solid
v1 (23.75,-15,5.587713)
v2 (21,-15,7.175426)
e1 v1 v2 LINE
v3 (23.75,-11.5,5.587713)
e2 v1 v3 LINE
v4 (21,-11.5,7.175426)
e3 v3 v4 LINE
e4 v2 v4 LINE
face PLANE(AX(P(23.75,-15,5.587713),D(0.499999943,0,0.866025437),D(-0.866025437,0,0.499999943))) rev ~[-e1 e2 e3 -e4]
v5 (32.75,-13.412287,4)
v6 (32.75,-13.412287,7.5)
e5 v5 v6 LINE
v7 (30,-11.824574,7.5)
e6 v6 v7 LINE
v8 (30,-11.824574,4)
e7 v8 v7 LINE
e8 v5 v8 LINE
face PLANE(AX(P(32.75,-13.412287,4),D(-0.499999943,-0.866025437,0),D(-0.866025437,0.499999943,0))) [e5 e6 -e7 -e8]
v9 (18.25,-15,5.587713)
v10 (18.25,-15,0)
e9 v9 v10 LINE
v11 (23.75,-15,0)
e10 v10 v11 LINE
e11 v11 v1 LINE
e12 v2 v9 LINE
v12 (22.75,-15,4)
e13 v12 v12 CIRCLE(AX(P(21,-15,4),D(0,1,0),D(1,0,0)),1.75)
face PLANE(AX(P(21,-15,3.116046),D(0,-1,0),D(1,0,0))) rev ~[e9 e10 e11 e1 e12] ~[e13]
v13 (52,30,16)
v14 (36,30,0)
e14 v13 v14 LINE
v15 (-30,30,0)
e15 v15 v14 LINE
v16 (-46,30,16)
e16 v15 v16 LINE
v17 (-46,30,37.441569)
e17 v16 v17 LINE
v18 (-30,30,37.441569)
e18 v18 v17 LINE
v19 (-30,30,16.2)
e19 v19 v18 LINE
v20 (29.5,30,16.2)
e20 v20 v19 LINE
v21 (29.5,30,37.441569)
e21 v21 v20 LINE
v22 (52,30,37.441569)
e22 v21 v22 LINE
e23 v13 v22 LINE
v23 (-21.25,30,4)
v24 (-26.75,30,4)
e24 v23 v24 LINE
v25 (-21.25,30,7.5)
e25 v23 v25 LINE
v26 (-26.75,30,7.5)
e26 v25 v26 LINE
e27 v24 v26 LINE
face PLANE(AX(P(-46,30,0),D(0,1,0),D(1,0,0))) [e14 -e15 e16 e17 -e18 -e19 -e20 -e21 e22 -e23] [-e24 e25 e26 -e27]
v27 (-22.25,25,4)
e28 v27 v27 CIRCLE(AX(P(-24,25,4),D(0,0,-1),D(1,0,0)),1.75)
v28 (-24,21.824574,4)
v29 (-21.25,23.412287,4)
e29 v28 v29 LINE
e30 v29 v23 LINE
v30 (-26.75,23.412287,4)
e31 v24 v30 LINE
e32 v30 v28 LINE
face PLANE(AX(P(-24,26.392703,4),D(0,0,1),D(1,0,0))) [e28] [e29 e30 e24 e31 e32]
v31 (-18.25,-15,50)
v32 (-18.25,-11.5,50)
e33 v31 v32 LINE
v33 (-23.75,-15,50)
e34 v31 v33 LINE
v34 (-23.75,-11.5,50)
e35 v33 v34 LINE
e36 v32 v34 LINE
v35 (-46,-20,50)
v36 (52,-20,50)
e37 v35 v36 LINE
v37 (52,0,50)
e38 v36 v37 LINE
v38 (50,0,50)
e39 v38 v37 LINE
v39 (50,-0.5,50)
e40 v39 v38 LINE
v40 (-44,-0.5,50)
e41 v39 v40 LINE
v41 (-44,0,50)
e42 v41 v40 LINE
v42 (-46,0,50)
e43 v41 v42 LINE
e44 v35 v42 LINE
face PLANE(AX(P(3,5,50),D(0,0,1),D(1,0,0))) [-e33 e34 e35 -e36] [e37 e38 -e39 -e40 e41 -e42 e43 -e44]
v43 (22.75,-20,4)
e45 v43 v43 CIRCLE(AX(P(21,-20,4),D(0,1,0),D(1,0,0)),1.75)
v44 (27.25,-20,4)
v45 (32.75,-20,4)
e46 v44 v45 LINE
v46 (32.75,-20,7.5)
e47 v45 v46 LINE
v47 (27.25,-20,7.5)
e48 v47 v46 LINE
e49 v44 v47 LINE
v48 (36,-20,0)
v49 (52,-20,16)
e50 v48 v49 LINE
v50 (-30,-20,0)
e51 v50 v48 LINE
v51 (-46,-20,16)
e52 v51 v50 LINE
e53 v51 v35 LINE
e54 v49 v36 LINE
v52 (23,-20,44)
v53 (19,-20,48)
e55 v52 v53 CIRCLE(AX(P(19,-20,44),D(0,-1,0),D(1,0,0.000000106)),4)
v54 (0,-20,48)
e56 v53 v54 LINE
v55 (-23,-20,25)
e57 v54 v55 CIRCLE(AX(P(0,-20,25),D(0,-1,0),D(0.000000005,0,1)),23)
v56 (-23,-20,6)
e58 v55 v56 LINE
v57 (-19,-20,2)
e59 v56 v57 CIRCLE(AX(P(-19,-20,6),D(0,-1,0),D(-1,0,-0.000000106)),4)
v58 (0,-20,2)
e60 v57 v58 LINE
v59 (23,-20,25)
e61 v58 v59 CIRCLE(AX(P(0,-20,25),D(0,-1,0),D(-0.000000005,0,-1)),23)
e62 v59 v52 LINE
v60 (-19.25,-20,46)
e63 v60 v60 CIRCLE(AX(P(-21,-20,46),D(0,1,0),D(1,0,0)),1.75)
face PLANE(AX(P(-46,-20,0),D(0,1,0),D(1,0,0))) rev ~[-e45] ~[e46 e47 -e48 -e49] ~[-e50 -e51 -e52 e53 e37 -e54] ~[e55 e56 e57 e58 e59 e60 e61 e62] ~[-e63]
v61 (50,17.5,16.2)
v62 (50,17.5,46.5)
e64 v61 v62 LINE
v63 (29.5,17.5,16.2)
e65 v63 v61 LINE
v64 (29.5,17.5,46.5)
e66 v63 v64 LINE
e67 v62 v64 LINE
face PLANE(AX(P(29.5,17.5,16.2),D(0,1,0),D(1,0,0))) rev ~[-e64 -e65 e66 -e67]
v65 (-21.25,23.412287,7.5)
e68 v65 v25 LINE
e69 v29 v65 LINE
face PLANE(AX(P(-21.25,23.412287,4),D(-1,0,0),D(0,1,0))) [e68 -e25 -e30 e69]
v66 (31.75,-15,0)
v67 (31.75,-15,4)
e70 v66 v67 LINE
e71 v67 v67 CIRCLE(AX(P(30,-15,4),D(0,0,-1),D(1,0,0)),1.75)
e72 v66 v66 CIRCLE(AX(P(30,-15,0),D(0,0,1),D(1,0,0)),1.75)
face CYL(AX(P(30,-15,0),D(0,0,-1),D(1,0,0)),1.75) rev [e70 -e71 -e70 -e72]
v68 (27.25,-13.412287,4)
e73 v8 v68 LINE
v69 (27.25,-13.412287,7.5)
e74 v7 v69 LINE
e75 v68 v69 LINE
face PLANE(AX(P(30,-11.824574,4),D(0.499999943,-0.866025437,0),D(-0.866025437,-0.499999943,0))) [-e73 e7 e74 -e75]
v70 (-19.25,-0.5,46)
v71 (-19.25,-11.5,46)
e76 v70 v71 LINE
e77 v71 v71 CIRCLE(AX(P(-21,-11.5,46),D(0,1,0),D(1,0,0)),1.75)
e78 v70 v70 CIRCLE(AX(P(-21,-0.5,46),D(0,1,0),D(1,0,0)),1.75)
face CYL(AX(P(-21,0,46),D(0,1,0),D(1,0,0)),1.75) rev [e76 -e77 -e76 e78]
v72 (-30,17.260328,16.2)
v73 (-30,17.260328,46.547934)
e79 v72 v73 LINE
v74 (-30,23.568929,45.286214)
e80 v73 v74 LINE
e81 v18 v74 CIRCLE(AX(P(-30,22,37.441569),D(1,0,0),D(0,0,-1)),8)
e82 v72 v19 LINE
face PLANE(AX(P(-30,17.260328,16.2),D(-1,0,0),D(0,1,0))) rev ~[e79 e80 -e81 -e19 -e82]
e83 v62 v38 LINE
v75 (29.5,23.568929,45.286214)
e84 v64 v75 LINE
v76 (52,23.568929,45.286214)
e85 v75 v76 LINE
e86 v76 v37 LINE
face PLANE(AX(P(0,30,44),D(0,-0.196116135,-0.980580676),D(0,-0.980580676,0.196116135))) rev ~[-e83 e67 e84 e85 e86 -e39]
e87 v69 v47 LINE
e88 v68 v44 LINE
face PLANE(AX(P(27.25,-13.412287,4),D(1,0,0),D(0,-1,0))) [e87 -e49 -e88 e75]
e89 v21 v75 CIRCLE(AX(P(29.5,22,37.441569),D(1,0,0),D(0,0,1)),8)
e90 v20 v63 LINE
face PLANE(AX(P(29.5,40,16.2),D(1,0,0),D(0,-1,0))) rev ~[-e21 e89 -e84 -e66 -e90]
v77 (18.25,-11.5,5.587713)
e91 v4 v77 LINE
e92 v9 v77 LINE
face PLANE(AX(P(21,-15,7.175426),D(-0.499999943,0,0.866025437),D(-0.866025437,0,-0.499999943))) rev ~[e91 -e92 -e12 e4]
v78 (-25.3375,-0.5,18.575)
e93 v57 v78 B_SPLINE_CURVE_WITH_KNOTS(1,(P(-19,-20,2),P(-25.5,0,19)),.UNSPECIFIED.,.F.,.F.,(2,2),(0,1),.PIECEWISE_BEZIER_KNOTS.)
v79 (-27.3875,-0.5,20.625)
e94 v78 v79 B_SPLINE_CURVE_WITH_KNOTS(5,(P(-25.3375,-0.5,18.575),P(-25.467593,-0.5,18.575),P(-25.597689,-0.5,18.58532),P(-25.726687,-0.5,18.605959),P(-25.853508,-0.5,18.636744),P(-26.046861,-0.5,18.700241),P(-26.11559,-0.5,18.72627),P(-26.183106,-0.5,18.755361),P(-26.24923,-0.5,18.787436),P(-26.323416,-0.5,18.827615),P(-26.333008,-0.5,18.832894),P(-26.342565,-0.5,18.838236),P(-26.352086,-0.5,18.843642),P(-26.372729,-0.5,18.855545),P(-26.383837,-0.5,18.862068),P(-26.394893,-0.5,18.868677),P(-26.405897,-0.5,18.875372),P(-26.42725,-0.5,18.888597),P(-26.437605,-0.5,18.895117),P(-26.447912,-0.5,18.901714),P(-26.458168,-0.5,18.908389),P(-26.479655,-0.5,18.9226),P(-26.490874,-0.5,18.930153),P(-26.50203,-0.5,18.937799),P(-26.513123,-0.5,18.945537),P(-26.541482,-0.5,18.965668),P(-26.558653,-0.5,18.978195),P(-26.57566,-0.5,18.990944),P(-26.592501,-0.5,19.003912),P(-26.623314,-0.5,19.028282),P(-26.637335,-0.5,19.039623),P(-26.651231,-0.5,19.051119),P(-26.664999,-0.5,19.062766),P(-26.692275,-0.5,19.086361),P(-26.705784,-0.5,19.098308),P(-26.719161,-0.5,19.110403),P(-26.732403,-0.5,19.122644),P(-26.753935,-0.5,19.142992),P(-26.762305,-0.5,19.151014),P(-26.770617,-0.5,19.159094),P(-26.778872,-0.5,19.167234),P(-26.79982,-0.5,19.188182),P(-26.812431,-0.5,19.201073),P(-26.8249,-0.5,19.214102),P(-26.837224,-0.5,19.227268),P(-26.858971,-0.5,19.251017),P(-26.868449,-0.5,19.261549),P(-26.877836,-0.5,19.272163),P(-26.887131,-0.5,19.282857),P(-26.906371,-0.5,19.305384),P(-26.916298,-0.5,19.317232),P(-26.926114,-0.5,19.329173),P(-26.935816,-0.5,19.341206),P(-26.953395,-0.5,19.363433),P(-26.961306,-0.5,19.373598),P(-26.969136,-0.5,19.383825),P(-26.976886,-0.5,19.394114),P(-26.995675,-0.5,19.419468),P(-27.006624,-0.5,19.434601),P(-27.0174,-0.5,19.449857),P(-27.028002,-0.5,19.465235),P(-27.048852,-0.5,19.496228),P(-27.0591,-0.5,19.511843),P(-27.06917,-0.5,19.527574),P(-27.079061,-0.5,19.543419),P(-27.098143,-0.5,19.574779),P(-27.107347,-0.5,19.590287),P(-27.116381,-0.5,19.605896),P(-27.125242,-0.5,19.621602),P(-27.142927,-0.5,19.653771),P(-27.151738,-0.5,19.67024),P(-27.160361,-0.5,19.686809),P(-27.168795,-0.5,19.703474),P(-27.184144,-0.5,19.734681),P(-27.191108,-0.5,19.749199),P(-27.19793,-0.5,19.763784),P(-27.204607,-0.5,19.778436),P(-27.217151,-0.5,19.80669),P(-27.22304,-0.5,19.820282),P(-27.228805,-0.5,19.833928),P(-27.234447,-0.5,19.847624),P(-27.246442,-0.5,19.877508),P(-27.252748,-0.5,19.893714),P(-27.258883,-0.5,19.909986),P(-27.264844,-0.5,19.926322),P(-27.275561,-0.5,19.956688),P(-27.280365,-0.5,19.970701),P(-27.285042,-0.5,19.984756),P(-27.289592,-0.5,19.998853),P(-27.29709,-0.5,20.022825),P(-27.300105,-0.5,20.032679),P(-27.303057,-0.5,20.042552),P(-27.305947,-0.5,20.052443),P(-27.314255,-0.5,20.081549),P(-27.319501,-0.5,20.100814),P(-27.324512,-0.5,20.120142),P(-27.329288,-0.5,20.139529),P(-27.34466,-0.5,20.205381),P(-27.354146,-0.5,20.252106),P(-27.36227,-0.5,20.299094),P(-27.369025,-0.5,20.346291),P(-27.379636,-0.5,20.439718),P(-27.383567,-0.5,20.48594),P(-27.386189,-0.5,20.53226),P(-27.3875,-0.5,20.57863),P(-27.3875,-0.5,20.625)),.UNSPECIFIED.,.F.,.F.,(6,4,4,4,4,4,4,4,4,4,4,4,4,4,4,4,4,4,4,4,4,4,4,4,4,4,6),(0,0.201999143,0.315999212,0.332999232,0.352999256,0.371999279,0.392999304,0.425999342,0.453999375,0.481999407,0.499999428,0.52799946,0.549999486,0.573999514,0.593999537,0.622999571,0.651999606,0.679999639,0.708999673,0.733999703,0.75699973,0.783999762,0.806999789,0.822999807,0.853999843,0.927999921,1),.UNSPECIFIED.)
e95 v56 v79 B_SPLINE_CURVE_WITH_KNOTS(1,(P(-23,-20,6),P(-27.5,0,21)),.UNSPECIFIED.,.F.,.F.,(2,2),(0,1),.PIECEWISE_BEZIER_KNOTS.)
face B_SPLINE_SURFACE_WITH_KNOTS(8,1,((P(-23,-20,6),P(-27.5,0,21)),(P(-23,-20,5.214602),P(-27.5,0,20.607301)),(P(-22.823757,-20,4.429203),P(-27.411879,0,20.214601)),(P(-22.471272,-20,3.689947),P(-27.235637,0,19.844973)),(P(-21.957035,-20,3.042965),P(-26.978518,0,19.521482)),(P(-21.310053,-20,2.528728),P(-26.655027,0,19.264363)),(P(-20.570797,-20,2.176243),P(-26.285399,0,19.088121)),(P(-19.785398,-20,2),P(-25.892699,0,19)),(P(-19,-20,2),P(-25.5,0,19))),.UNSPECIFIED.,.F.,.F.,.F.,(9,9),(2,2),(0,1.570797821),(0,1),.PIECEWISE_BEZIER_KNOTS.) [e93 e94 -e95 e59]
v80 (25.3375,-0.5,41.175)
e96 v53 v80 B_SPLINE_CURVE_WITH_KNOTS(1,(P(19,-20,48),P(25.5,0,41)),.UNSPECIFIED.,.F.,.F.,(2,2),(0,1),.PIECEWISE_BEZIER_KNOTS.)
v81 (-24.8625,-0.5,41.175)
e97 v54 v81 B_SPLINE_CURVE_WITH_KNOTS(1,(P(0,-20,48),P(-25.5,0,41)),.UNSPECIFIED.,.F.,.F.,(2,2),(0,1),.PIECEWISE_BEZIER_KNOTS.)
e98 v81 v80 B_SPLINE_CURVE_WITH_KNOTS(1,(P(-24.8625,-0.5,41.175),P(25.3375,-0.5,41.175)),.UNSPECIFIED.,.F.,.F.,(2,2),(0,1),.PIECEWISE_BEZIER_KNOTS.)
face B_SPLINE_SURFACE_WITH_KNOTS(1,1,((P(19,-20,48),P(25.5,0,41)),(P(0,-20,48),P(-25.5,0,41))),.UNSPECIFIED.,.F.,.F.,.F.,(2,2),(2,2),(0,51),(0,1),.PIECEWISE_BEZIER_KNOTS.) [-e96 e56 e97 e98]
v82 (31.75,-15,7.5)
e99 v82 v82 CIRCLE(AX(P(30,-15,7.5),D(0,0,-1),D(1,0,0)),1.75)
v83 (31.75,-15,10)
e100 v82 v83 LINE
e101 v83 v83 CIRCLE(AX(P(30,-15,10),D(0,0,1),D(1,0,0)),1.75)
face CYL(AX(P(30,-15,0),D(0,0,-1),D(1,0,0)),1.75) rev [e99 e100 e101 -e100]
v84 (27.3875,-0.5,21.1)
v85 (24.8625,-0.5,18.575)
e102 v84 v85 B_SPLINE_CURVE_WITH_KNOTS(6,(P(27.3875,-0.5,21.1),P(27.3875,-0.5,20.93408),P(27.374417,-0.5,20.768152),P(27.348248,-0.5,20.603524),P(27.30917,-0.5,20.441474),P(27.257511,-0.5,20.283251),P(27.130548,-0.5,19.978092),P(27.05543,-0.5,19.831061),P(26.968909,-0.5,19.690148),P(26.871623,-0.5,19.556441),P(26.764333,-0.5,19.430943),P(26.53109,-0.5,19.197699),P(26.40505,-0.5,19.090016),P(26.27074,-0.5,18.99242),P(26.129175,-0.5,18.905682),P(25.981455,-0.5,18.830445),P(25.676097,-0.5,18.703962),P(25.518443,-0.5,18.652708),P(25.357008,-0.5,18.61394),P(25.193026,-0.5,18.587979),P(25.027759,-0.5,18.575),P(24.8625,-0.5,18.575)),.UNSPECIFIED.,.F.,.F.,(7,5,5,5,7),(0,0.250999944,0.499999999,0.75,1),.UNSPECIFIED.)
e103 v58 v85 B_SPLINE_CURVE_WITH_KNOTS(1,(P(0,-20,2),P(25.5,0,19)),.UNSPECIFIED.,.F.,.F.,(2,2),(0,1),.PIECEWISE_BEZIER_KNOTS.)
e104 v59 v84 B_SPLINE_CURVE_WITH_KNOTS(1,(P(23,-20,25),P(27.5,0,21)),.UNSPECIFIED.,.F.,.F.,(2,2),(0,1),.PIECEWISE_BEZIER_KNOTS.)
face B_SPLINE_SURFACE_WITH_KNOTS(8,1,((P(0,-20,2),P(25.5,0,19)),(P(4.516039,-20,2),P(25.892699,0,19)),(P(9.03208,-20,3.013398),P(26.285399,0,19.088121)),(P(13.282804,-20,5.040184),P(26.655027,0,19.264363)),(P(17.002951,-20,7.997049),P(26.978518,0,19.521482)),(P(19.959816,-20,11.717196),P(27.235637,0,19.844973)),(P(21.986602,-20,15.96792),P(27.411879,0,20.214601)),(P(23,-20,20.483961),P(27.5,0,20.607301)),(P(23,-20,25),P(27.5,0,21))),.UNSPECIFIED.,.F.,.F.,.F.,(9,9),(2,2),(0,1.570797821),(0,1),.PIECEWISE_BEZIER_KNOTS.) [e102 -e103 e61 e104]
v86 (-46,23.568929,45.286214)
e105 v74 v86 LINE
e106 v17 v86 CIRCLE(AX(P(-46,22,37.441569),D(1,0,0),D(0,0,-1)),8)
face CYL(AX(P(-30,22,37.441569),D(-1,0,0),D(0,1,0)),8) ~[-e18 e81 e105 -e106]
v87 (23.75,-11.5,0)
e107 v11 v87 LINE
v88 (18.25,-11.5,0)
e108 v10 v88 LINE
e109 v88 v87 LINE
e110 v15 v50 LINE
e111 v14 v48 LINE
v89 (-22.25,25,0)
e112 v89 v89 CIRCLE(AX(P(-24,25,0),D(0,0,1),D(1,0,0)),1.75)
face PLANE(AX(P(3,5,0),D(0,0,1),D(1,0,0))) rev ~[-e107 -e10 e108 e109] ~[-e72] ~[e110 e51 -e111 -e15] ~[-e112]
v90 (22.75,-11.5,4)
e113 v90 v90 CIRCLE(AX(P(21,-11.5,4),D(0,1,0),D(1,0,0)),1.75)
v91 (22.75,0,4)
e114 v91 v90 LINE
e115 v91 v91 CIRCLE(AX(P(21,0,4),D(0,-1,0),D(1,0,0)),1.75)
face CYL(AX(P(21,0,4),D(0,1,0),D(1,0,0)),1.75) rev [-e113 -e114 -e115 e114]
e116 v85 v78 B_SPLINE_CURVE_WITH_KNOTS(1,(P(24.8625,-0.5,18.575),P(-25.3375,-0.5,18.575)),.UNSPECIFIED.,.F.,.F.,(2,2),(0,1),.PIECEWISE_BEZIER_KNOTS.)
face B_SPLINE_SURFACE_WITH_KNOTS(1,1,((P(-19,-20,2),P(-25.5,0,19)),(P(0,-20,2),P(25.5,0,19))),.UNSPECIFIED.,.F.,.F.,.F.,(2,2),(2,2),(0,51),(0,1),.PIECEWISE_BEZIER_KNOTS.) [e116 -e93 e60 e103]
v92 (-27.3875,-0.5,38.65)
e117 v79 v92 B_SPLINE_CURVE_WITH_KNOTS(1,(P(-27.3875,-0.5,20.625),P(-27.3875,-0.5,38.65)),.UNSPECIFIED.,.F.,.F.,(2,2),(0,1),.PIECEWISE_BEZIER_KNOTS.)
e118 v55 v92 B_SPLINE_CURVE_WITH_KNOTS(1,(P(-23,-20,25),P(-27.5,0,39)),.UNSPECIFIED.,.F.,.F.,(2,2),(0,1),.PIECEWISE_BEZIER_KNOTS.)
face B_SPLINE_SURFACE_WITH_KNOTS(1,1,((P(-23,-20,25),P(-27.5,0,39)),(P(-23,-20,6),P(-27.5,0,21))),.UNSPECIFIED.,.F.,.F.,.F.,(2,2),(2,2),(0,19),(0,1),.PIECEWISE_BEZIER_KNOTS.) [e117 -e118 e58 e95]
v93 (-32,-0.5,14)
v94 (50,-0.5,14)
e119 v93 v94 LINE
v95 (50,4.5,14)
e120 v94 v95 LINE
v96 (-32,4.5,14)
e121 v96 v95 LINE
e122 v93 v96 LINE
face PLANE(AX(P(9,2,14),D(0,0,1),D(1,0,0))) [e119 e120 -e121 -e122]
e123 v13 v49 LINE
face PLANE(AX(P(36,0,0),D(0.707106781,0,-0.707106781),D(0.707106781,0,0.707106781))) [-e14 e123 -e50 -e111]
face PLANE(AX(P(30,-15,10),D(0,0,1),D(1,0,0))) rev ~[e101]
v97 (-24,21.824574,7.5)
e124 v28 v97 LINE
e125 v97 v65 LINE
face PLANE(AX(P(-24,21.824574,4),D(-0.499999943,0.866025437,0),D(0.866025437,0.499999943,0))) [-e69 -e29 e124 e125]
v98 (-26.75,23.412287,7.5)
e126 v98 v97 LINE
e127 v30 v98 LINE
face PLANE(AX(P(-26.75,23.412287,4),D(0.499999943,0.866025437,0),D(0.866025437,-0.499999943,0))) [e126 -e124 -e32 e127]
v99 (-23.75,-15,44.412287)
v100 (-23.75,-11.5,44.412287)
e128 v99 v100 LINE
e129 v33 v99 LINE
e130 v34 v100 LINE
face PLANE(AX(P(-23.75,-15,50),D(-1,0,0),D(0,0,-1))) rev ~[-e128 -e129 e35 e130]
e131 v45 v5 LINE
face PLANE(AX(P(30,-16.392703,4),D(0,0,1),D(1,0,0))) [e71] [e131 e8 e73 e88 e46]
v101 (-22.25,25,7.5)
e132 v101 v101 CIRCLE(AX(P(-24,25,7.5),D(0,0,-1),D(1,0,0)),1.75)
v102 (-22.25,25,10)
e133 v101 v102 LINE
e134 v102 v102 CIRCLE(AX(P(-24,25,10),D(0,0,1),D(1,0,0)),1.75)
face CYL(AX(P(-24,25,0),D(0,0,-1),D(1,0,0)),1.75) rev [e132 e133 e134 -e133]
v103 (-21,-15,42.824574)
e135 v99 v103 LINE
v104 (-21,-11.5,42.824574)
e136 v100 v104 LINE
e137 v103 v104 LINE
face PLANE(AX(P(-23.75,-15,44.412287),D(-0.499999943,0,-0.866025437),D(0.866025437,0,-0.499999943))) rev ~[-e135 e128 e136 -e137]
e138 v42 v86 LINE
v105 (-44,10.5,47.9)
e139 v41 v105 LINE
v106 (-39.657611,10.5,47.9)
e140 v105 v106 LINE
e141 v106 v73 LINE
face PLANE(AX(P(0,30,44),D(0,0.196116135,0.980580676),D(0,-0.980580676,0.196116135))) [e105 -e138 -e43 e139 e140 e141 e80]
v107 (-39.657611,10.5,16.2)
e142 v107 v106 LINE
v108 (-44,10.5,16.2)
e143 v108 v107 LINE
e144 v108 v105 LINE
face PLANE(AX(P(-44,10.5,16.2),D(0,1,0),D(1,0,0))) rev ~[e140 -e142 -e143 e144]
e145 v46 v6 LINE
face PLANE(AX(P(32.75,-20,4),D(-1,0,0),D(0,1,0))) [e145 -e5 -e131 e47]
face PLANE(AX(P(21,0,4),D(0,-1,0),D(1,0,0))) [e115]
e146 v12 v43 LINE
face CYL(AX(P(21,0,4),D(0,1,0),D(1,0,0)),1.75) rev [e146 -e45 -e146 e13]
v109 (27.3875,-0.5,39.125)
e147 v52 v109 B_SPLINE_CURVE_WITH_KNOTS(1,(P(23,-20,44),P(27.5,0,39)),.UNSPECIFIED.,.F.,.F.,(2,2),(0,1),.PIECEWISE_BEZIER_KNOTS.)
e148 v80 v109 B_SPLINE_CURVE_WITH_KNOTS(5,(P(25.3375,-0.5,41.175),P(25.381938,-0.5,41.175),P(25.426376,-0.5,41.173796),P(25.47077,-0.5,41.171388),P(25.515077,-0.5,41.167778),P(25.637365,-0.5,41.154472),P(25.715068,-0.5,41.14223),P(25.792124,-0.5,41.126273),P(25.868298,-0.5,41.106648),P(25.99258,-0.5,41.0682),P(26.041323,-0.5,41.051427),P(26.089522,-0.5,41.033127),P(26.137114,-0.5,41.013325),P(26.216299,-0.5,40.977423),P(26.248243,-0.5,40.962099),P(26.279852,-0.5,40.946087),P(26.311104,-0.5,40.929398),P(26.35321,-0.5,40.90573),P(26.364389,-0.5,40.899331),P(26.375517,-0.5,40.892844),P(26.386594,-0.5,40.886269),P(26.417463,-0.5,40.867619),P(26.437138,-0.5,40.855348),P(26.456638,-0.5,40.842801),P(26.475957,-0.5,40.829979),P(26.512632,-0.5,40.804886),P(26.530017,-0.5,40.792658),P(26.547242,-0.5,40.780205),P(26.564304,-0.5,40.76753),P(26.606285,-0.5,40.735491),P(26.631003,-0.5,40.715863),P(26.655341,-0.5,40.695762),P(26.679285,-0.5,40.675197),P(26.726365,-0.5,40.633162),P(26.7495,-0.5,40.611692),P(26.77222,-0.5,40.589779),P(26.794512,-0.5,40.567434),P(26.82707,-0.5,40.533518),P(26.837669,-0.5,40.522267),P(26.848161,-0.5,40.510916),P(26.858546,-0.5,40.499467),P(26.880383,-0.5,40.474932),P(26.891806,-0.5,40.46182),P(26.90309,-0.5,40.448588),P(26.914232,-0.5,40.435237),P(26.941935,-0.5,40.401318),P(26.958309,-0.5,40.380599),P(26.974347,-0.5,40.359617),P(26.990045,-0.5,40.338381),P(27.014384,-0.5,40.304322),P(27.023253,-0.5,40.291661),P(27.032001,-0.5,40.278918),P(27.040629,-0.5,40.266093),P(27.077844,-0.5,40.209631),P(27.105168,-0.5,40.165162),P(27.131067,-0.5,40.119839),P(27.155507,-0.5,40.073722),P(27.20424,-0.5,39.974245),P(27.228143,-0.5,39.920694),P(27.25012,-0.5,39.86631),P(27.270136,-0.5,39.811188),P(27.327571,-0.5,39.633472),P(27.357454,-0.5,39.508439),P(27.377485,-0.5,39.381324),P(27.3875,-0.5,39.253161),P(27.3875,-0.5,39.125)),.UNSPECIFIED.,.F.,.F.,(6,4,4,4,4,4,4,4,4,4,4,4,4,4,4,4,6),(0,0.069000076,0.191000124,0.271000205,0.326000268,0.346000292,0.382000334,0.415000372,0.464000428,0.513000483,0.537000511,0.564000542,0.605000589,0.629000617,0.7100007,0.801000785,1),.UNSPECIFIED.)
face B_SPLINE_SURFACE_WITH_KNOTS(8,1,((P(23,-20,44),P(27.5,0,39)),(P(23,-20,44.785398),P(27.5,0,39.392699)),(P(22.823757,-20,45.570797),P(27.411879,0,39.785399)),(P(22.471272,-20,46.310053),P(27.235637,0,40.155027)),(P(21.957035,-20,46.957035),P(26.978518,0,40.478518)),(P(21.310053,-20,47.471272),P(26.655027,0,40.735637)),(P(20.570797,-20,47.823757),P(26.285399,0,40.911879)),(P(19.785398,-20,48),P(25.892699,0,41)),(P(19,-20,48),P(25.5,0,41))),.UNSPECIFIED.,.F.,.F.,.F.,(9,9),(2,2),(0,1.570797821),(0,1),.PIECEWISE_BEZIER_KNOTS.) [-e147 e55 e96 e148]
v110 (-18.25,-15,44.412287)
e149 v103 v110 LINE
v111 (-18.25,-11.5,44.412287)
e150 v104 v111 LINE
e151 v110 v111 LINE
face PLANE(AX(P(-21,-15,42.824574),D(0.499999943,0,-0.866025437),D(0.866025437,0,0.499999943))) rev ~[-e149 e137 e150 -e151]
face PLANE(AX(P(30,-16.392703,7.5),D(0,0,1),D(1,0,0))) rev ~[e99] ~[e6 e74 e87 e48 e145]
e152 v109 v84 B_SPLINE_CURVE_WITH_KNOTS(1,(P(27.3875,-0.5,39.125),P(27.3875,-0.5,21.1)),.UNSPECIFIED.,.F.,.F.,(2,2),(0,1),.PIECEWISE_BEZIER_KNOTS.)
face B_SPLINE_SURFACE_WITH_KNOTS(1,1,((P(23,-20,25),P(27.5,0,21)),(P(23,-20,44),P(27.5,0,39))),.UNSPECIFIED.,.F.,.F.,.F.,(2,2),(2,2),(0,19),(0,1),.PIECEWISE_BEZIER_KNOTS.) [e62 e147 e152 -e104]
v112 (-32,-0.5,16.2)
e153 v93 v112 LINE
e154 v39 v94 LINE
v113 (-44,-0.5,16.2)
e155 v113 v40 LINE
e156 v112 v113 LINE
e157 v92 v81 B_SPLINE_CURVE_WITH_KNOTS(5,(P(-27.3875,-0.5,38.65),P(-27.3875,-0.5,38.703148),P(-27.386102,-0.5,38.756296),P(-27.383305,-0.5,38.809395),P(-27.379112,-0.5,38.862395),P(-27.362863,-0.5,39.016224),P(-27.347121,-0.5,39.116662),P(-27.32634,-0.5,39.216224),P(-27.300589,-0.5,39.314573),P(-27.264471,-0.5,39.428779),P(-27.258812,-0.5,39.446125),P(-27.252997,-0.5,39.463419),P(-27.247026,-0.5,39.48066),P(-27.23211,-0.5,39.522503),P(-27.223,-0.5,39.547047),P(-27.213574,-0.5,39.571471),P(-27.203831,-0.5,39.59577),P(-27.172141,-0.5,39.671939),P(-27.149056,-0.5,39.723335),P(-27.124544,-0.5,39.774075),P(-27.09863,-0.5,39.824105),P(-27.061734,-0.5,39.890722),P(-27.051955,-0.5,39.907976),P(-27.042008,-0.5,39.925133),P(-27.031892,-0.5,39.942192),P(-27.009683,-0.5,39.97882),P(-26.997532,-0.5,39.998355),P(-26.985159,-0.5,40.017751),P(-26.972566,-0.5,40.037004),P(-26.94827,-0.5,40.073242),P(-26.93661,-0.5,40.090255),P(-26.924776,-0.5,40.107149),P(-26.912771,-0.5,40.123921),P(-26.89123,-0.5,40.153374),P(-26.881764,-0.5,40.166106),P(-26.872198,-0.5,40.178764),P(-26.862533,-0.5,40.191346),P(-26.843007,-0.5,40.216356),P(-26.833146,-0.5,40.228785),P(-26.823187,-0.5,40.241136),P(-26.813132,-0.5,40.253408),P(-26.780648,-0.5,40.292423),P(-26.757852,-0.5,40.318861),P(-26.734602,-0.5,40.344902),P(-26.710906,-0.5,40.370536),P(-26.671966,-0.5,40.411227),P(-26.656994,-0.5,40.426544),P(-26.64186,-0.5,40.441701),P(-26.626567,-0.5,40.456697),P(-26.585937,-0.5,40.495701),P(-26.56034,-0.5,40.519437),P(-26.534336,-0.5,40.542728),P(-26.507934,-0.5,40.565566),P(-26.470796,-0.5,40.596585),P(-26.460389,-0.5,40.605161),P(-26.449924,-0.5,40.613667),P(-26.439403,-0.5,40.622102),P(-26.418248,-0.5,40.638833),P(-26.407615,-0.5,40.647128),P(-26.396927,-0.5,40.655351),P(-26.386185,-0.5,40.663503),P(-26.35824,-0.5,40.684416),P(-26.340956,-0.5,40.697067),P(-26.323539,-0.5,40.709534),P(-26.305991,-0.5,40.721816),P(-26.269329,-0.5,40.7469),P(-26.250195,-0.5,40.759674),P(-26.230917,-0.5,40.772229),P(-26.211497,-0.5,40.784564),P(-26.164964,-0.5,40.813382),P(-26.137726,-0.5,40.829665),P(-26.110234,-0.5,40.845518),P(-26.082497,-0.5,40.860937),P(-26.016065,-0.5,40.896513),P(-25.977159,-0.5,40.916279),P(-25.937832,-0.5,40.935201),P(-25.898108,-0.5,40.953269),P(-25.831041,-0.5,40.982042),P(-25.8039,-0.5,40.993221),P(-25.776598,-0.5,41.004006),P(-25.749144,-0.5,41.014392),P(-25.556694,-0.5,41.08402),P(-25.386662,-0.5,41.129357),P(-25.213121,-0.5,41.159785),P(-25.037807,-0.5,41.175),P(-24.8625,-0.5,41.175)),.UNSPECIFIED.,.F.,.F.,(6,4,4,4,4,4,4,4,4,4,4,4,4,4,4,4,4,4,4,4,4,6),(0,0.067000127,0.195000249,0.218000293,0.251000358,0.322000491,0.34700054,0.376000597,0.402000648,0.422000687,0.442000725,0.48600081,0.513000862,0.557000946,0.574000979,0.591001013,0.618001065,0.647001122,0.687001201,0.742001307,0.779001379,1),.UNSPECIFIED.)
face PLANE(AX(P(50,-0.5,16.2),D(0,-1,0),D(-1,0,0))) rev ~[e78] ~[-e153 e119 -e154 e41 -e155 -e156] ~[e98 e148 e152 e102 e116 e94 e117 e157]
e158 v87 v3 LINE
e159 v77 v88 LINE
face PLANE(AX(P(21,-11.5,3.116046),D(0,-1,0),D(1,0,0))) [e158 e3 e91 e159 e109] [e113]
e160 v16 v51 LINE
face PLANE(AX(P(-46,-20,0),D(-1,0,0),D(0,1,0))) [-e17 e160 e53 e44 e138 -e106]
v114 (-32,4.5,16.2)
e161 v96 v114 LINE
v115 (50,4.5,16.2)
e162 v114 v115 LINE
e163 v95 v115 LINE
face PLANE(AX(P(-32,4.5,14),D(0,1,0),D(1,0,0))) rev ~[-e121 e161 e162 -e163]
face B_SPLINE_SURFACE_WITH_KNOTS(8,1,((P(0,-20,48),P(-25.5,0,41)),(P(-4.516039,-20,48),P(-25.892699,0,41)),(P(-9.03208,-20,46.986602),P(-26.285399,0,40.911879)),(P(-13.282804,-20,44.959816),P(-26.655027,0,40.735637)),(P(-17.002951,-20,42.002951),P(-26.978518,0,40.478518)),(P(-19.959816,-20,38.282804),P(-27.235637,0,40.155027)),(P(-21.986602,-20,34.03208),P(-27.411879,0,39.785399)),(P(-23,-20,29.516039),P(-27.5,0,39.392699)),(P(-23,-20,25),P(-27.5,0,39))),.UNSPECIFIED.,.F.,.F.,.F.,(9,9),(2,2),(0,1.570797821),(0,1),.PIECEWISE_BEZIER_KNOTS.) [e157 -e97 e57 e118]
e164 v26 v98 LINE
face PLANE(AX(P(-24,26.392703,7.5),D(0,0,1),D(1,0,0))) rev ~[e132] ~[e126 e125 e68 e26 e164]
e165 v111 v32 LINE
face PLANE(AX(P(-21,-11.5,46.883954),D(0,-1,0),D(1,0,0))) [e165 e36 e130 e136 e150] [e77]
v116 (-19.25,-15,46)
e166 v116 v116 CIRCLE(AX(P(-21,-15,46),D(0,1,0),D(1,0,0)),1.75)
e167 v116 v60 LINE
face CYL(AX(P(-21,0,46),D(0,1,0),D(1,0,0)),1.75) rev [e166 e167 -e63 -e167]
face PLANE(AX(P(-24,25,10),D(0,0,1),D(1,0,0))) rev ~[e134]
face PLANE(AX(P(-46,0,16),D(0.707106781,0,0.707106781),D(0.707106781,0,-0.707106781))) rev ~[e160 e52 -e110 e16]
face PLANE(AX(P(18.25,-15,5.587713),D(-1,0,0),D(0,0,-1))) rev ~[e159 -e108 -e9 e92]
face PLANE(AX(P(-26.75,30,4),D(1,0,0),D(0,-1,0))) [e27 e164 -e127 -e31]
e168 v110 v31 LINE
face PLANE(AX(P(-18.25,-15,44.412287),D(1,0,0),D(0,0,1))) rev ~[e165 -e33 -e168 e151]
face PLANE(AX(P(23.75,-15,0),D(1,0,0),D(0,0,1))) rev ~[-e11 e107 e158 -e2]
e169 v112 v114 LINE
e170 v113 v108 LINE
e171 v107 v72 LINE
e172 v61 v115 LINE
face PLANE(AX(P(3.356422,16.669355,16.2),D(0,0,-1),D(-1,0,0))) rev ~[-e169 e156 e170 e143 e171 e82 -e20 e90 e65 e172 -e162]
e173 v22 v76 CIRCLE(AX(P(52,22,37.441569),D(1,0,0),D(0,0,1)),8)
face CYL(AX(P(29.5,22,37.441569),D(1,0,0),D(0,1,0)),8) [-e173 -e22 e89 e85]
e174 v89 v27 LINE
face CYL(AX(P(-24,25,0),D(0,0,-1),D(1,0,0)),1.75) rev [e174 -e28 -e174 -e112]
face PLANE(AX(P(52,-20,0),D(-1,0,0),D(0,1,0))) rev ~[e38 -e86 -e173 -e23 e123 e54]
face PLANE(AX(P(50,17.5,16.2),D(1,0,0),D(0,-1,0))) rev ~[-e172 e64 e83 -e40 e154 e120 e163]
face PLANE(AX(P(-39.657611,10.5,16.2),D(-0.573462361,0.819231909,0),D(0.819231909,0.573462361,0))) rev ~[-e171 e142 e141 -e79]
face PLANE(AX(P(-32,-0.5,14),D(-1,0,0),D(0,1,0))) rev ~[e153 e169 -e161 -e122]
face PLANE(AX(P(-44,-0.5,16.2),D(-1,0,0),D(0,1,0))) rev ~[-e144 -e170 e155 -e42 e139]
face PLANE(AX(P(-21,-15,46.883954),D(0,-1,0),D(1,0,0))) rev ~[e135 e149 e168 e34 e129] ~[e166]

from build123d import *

# Parameters (mm, degrees)
SKETCH_W             = 98
SKETCH_H             = 50
PAD_DEPTH            = 50
POCKET_DEPTH         = 33.801
POCKET081_DEPTH      = 46.001
POCKET081_DEPTH_BACK = 52.001
POCKET082_DEPTH      = 30.001
POCKET082_DEPTH_BACK = 20.001
SKETCH245_R          = 1.75
POCKET083_DEPTH      = 20.001
POCKET084_DEPTH      = 3.5
SKETCH247_W          = 82
SKETCH247_H          = 5
POCKET085_DEPTH      = 36.001
FILLET_R             = 8
SKETCH248_R          = 1.75
POCKET086_DEPTH      = 10
POCKET087_DEPTH      = 3.5


with BuildPart() as part:
    # Sketch → Pad (new body)
    with BuildSketch(Plane.XY):
        with Locations((3, 5)):
            Rectangle(SKETCH_W, SKETCH_H)
    extrude(amount=PAD_DEPTH)

    # Sketch029 → SubtractiveLoft section 0
    with BuildSketch(Plane.XZ.offset(20)):
        with BuildLine():
            Line((-23, 25), (-23, 6))
            ThreePointArc((-23, 6), (-21.828427, 3.171573), (-19, 2))
            Line((-19, 2), (0, 2))
            ThreePointArc((0, 2), (16.263456, 8.736544), (23, 25))
            Line((23, 25), (23, 44))
            ThreePointArc((23, 44), (21.828427, 46.828427), (19, 48))
            Line((19, 48), (0, 48))
            ThreePointArc((0, 48), (-16.263456, 41.263456), (-23, 25))
        make_face()
    # Sketch030 → SubtractiveLoft section 1
    with BuildSketch(Plane.XZ):
        with BuildLine():
            Line((-27.5, 39), (-27.5, 21))
            ThreePointArc((-27.5, 21), (-26.914214, 19.585786), (-25.5, 19))
            Line((-25.5, 19), (25.5, 19))
            ThreePointArc((25.5, 19), (26.914214, 19.585786), (27.5, 21))
            Line((27.5, 21), (27.5, 39))
            ThreePointArc((27.5, 39), (26.914214, 40.414214), (25.5, 41))
            Line((25.5, 41), (-25.5, 41))
            ThreePointArc((-25.5, 41), (-26.914214, 40.414214), (-27.5, 39))
        make_face()
    loft(mode=Mode.SUBTRACT)

    # Sketch242 → Pocket (cut, through all)
    with BuildSketch(Plane(origin=(0, 0, 16.2), x_dir=(-1, 0, 0), z_dir=(0, 0, -1))):
        Polygon((-50, -0.5), (44, -0.5), (44, 10.5), (39.657611, 10.5), (30, 17.260328), (30, 25.5), (30, 40), (-29.5, 40), (-29.5, 25.5), (-29.5, 17.5), (-50, 17.5), align=None)
    extrude(amount=-POCKET_DEPTH, mode=Mode.SUBTRACT)

    # Sketch243 → Pocket081 (cut, two sides)
    with BuildSketch(Plane.YZ) as pocket081_sk:
        Polygon((30, 44), (0, 50), (30, 50), align=None)
    extrude(amount=-POCKET081_DEPTH, mode=Mode.SUBTRACT)
    extrude(pocket081_sk.sketch, amount=POCKET081_DEPTH_BACK, mode=Mode.SUBTRACT)

    # Sketch244 → Pocket082 (cut, two sides)
    with BuildSketch(Plane.XZ) as pocket082_sk:
        Polygon((-46, 16), (-30, 0), (-46, 0), align=None)
        Polygon((36, 0), (52, 16), (52, 0), align=None)
    extrude(amount=-POCKET082_DEPTH, mode=Mode.SUBTRACT)
    extrude(pocket082_sk.sketch, amount=POCKET082_DEPTH_BACK, mode=Mode.SUBTRACT)

    # Sketch245 → Pocket083 (cut, through all)
    with BuildSketch(Plane.XZ):
        with Locations((-21, 46)):
            Circle(SKETCH245_R)
        with Locations((21, 4)):
            Circle(SKETCH245_R)
    extrude(amount=POCKET083_DEPTH, mode=Mode.SUBTRACT)

    # Sketch246 → Pocket084 (cut)
    with BuildSketch(Plane.XZ.offset(15)):
        Polygon((-18.25, 44.412287), (-18.25, 47.587713), (-18.25, 50), (-23.75, 50), (-23.75, 47.587713), (-23.75, 44.412287), (-21, 42.824574), align=None)
        Polygon((23.75, 5.587713), (21, 7.175426), (18.25, 5.587713), (18.25, 2.412287), (18.25, 0), (23.75, 0), (23.75, 2.412287), align=None)
    extrude(amount=-POCKET084_DEPTH, mode=Mode.SUBTRACT)

    # Sketch247 → Pocket085 (cut, through all)
    with BuildSketch(Plane.XY.offset(14)):
        with Locations((9, 2)):
            Rectangle(SKETCH247_W, SKETCH247_H)
    extrude(amount=POCKET085_DEPTH, mode=Mode.SUBTRACT)

    # Fillet
    fillet_edges = [part.edges().sort_by_distance(p)[0] for p in [
        (-38, 30, 44),
        (40.75, 30, 44),
    ]]
    fillet(fillet_edges, radius=FILLET_R)

    # Sketch248 → Pocket086 (cut)
    with BuildSketch(Plane.XY):
        with Locations((30, -15)):
            Circle(SKETCH248_R)
        with Locations((-24, 25)):
            Circle(SKETCH248_R)
    extrude(amount=POCKET086_DEPTH, mode=Mode.SUBTRACT)

    # Sketch249 → Pocket087 (cut)
    with BuildSketch(Plane.XY.offset(4)):
        Polygon((-24, 21.824574), (-21.25, 23.412287), (-21.25, 26.587713), (-21.25, 30), (-26.75, 30), (-26.75, 26.587713), (-26.75, 23.412287), align=None)
        Polygon((32.75, -13.412287), (30, -11.824574), (27.25, -13.412287), (27.25, -16.587713), (27.25, -20), (32.75, -20), (32.75, -16.587713), align=None)
    extrude(amount=POCKET087_DEPTH, mode=Mode.SUBTRACT)


solid = part.part
